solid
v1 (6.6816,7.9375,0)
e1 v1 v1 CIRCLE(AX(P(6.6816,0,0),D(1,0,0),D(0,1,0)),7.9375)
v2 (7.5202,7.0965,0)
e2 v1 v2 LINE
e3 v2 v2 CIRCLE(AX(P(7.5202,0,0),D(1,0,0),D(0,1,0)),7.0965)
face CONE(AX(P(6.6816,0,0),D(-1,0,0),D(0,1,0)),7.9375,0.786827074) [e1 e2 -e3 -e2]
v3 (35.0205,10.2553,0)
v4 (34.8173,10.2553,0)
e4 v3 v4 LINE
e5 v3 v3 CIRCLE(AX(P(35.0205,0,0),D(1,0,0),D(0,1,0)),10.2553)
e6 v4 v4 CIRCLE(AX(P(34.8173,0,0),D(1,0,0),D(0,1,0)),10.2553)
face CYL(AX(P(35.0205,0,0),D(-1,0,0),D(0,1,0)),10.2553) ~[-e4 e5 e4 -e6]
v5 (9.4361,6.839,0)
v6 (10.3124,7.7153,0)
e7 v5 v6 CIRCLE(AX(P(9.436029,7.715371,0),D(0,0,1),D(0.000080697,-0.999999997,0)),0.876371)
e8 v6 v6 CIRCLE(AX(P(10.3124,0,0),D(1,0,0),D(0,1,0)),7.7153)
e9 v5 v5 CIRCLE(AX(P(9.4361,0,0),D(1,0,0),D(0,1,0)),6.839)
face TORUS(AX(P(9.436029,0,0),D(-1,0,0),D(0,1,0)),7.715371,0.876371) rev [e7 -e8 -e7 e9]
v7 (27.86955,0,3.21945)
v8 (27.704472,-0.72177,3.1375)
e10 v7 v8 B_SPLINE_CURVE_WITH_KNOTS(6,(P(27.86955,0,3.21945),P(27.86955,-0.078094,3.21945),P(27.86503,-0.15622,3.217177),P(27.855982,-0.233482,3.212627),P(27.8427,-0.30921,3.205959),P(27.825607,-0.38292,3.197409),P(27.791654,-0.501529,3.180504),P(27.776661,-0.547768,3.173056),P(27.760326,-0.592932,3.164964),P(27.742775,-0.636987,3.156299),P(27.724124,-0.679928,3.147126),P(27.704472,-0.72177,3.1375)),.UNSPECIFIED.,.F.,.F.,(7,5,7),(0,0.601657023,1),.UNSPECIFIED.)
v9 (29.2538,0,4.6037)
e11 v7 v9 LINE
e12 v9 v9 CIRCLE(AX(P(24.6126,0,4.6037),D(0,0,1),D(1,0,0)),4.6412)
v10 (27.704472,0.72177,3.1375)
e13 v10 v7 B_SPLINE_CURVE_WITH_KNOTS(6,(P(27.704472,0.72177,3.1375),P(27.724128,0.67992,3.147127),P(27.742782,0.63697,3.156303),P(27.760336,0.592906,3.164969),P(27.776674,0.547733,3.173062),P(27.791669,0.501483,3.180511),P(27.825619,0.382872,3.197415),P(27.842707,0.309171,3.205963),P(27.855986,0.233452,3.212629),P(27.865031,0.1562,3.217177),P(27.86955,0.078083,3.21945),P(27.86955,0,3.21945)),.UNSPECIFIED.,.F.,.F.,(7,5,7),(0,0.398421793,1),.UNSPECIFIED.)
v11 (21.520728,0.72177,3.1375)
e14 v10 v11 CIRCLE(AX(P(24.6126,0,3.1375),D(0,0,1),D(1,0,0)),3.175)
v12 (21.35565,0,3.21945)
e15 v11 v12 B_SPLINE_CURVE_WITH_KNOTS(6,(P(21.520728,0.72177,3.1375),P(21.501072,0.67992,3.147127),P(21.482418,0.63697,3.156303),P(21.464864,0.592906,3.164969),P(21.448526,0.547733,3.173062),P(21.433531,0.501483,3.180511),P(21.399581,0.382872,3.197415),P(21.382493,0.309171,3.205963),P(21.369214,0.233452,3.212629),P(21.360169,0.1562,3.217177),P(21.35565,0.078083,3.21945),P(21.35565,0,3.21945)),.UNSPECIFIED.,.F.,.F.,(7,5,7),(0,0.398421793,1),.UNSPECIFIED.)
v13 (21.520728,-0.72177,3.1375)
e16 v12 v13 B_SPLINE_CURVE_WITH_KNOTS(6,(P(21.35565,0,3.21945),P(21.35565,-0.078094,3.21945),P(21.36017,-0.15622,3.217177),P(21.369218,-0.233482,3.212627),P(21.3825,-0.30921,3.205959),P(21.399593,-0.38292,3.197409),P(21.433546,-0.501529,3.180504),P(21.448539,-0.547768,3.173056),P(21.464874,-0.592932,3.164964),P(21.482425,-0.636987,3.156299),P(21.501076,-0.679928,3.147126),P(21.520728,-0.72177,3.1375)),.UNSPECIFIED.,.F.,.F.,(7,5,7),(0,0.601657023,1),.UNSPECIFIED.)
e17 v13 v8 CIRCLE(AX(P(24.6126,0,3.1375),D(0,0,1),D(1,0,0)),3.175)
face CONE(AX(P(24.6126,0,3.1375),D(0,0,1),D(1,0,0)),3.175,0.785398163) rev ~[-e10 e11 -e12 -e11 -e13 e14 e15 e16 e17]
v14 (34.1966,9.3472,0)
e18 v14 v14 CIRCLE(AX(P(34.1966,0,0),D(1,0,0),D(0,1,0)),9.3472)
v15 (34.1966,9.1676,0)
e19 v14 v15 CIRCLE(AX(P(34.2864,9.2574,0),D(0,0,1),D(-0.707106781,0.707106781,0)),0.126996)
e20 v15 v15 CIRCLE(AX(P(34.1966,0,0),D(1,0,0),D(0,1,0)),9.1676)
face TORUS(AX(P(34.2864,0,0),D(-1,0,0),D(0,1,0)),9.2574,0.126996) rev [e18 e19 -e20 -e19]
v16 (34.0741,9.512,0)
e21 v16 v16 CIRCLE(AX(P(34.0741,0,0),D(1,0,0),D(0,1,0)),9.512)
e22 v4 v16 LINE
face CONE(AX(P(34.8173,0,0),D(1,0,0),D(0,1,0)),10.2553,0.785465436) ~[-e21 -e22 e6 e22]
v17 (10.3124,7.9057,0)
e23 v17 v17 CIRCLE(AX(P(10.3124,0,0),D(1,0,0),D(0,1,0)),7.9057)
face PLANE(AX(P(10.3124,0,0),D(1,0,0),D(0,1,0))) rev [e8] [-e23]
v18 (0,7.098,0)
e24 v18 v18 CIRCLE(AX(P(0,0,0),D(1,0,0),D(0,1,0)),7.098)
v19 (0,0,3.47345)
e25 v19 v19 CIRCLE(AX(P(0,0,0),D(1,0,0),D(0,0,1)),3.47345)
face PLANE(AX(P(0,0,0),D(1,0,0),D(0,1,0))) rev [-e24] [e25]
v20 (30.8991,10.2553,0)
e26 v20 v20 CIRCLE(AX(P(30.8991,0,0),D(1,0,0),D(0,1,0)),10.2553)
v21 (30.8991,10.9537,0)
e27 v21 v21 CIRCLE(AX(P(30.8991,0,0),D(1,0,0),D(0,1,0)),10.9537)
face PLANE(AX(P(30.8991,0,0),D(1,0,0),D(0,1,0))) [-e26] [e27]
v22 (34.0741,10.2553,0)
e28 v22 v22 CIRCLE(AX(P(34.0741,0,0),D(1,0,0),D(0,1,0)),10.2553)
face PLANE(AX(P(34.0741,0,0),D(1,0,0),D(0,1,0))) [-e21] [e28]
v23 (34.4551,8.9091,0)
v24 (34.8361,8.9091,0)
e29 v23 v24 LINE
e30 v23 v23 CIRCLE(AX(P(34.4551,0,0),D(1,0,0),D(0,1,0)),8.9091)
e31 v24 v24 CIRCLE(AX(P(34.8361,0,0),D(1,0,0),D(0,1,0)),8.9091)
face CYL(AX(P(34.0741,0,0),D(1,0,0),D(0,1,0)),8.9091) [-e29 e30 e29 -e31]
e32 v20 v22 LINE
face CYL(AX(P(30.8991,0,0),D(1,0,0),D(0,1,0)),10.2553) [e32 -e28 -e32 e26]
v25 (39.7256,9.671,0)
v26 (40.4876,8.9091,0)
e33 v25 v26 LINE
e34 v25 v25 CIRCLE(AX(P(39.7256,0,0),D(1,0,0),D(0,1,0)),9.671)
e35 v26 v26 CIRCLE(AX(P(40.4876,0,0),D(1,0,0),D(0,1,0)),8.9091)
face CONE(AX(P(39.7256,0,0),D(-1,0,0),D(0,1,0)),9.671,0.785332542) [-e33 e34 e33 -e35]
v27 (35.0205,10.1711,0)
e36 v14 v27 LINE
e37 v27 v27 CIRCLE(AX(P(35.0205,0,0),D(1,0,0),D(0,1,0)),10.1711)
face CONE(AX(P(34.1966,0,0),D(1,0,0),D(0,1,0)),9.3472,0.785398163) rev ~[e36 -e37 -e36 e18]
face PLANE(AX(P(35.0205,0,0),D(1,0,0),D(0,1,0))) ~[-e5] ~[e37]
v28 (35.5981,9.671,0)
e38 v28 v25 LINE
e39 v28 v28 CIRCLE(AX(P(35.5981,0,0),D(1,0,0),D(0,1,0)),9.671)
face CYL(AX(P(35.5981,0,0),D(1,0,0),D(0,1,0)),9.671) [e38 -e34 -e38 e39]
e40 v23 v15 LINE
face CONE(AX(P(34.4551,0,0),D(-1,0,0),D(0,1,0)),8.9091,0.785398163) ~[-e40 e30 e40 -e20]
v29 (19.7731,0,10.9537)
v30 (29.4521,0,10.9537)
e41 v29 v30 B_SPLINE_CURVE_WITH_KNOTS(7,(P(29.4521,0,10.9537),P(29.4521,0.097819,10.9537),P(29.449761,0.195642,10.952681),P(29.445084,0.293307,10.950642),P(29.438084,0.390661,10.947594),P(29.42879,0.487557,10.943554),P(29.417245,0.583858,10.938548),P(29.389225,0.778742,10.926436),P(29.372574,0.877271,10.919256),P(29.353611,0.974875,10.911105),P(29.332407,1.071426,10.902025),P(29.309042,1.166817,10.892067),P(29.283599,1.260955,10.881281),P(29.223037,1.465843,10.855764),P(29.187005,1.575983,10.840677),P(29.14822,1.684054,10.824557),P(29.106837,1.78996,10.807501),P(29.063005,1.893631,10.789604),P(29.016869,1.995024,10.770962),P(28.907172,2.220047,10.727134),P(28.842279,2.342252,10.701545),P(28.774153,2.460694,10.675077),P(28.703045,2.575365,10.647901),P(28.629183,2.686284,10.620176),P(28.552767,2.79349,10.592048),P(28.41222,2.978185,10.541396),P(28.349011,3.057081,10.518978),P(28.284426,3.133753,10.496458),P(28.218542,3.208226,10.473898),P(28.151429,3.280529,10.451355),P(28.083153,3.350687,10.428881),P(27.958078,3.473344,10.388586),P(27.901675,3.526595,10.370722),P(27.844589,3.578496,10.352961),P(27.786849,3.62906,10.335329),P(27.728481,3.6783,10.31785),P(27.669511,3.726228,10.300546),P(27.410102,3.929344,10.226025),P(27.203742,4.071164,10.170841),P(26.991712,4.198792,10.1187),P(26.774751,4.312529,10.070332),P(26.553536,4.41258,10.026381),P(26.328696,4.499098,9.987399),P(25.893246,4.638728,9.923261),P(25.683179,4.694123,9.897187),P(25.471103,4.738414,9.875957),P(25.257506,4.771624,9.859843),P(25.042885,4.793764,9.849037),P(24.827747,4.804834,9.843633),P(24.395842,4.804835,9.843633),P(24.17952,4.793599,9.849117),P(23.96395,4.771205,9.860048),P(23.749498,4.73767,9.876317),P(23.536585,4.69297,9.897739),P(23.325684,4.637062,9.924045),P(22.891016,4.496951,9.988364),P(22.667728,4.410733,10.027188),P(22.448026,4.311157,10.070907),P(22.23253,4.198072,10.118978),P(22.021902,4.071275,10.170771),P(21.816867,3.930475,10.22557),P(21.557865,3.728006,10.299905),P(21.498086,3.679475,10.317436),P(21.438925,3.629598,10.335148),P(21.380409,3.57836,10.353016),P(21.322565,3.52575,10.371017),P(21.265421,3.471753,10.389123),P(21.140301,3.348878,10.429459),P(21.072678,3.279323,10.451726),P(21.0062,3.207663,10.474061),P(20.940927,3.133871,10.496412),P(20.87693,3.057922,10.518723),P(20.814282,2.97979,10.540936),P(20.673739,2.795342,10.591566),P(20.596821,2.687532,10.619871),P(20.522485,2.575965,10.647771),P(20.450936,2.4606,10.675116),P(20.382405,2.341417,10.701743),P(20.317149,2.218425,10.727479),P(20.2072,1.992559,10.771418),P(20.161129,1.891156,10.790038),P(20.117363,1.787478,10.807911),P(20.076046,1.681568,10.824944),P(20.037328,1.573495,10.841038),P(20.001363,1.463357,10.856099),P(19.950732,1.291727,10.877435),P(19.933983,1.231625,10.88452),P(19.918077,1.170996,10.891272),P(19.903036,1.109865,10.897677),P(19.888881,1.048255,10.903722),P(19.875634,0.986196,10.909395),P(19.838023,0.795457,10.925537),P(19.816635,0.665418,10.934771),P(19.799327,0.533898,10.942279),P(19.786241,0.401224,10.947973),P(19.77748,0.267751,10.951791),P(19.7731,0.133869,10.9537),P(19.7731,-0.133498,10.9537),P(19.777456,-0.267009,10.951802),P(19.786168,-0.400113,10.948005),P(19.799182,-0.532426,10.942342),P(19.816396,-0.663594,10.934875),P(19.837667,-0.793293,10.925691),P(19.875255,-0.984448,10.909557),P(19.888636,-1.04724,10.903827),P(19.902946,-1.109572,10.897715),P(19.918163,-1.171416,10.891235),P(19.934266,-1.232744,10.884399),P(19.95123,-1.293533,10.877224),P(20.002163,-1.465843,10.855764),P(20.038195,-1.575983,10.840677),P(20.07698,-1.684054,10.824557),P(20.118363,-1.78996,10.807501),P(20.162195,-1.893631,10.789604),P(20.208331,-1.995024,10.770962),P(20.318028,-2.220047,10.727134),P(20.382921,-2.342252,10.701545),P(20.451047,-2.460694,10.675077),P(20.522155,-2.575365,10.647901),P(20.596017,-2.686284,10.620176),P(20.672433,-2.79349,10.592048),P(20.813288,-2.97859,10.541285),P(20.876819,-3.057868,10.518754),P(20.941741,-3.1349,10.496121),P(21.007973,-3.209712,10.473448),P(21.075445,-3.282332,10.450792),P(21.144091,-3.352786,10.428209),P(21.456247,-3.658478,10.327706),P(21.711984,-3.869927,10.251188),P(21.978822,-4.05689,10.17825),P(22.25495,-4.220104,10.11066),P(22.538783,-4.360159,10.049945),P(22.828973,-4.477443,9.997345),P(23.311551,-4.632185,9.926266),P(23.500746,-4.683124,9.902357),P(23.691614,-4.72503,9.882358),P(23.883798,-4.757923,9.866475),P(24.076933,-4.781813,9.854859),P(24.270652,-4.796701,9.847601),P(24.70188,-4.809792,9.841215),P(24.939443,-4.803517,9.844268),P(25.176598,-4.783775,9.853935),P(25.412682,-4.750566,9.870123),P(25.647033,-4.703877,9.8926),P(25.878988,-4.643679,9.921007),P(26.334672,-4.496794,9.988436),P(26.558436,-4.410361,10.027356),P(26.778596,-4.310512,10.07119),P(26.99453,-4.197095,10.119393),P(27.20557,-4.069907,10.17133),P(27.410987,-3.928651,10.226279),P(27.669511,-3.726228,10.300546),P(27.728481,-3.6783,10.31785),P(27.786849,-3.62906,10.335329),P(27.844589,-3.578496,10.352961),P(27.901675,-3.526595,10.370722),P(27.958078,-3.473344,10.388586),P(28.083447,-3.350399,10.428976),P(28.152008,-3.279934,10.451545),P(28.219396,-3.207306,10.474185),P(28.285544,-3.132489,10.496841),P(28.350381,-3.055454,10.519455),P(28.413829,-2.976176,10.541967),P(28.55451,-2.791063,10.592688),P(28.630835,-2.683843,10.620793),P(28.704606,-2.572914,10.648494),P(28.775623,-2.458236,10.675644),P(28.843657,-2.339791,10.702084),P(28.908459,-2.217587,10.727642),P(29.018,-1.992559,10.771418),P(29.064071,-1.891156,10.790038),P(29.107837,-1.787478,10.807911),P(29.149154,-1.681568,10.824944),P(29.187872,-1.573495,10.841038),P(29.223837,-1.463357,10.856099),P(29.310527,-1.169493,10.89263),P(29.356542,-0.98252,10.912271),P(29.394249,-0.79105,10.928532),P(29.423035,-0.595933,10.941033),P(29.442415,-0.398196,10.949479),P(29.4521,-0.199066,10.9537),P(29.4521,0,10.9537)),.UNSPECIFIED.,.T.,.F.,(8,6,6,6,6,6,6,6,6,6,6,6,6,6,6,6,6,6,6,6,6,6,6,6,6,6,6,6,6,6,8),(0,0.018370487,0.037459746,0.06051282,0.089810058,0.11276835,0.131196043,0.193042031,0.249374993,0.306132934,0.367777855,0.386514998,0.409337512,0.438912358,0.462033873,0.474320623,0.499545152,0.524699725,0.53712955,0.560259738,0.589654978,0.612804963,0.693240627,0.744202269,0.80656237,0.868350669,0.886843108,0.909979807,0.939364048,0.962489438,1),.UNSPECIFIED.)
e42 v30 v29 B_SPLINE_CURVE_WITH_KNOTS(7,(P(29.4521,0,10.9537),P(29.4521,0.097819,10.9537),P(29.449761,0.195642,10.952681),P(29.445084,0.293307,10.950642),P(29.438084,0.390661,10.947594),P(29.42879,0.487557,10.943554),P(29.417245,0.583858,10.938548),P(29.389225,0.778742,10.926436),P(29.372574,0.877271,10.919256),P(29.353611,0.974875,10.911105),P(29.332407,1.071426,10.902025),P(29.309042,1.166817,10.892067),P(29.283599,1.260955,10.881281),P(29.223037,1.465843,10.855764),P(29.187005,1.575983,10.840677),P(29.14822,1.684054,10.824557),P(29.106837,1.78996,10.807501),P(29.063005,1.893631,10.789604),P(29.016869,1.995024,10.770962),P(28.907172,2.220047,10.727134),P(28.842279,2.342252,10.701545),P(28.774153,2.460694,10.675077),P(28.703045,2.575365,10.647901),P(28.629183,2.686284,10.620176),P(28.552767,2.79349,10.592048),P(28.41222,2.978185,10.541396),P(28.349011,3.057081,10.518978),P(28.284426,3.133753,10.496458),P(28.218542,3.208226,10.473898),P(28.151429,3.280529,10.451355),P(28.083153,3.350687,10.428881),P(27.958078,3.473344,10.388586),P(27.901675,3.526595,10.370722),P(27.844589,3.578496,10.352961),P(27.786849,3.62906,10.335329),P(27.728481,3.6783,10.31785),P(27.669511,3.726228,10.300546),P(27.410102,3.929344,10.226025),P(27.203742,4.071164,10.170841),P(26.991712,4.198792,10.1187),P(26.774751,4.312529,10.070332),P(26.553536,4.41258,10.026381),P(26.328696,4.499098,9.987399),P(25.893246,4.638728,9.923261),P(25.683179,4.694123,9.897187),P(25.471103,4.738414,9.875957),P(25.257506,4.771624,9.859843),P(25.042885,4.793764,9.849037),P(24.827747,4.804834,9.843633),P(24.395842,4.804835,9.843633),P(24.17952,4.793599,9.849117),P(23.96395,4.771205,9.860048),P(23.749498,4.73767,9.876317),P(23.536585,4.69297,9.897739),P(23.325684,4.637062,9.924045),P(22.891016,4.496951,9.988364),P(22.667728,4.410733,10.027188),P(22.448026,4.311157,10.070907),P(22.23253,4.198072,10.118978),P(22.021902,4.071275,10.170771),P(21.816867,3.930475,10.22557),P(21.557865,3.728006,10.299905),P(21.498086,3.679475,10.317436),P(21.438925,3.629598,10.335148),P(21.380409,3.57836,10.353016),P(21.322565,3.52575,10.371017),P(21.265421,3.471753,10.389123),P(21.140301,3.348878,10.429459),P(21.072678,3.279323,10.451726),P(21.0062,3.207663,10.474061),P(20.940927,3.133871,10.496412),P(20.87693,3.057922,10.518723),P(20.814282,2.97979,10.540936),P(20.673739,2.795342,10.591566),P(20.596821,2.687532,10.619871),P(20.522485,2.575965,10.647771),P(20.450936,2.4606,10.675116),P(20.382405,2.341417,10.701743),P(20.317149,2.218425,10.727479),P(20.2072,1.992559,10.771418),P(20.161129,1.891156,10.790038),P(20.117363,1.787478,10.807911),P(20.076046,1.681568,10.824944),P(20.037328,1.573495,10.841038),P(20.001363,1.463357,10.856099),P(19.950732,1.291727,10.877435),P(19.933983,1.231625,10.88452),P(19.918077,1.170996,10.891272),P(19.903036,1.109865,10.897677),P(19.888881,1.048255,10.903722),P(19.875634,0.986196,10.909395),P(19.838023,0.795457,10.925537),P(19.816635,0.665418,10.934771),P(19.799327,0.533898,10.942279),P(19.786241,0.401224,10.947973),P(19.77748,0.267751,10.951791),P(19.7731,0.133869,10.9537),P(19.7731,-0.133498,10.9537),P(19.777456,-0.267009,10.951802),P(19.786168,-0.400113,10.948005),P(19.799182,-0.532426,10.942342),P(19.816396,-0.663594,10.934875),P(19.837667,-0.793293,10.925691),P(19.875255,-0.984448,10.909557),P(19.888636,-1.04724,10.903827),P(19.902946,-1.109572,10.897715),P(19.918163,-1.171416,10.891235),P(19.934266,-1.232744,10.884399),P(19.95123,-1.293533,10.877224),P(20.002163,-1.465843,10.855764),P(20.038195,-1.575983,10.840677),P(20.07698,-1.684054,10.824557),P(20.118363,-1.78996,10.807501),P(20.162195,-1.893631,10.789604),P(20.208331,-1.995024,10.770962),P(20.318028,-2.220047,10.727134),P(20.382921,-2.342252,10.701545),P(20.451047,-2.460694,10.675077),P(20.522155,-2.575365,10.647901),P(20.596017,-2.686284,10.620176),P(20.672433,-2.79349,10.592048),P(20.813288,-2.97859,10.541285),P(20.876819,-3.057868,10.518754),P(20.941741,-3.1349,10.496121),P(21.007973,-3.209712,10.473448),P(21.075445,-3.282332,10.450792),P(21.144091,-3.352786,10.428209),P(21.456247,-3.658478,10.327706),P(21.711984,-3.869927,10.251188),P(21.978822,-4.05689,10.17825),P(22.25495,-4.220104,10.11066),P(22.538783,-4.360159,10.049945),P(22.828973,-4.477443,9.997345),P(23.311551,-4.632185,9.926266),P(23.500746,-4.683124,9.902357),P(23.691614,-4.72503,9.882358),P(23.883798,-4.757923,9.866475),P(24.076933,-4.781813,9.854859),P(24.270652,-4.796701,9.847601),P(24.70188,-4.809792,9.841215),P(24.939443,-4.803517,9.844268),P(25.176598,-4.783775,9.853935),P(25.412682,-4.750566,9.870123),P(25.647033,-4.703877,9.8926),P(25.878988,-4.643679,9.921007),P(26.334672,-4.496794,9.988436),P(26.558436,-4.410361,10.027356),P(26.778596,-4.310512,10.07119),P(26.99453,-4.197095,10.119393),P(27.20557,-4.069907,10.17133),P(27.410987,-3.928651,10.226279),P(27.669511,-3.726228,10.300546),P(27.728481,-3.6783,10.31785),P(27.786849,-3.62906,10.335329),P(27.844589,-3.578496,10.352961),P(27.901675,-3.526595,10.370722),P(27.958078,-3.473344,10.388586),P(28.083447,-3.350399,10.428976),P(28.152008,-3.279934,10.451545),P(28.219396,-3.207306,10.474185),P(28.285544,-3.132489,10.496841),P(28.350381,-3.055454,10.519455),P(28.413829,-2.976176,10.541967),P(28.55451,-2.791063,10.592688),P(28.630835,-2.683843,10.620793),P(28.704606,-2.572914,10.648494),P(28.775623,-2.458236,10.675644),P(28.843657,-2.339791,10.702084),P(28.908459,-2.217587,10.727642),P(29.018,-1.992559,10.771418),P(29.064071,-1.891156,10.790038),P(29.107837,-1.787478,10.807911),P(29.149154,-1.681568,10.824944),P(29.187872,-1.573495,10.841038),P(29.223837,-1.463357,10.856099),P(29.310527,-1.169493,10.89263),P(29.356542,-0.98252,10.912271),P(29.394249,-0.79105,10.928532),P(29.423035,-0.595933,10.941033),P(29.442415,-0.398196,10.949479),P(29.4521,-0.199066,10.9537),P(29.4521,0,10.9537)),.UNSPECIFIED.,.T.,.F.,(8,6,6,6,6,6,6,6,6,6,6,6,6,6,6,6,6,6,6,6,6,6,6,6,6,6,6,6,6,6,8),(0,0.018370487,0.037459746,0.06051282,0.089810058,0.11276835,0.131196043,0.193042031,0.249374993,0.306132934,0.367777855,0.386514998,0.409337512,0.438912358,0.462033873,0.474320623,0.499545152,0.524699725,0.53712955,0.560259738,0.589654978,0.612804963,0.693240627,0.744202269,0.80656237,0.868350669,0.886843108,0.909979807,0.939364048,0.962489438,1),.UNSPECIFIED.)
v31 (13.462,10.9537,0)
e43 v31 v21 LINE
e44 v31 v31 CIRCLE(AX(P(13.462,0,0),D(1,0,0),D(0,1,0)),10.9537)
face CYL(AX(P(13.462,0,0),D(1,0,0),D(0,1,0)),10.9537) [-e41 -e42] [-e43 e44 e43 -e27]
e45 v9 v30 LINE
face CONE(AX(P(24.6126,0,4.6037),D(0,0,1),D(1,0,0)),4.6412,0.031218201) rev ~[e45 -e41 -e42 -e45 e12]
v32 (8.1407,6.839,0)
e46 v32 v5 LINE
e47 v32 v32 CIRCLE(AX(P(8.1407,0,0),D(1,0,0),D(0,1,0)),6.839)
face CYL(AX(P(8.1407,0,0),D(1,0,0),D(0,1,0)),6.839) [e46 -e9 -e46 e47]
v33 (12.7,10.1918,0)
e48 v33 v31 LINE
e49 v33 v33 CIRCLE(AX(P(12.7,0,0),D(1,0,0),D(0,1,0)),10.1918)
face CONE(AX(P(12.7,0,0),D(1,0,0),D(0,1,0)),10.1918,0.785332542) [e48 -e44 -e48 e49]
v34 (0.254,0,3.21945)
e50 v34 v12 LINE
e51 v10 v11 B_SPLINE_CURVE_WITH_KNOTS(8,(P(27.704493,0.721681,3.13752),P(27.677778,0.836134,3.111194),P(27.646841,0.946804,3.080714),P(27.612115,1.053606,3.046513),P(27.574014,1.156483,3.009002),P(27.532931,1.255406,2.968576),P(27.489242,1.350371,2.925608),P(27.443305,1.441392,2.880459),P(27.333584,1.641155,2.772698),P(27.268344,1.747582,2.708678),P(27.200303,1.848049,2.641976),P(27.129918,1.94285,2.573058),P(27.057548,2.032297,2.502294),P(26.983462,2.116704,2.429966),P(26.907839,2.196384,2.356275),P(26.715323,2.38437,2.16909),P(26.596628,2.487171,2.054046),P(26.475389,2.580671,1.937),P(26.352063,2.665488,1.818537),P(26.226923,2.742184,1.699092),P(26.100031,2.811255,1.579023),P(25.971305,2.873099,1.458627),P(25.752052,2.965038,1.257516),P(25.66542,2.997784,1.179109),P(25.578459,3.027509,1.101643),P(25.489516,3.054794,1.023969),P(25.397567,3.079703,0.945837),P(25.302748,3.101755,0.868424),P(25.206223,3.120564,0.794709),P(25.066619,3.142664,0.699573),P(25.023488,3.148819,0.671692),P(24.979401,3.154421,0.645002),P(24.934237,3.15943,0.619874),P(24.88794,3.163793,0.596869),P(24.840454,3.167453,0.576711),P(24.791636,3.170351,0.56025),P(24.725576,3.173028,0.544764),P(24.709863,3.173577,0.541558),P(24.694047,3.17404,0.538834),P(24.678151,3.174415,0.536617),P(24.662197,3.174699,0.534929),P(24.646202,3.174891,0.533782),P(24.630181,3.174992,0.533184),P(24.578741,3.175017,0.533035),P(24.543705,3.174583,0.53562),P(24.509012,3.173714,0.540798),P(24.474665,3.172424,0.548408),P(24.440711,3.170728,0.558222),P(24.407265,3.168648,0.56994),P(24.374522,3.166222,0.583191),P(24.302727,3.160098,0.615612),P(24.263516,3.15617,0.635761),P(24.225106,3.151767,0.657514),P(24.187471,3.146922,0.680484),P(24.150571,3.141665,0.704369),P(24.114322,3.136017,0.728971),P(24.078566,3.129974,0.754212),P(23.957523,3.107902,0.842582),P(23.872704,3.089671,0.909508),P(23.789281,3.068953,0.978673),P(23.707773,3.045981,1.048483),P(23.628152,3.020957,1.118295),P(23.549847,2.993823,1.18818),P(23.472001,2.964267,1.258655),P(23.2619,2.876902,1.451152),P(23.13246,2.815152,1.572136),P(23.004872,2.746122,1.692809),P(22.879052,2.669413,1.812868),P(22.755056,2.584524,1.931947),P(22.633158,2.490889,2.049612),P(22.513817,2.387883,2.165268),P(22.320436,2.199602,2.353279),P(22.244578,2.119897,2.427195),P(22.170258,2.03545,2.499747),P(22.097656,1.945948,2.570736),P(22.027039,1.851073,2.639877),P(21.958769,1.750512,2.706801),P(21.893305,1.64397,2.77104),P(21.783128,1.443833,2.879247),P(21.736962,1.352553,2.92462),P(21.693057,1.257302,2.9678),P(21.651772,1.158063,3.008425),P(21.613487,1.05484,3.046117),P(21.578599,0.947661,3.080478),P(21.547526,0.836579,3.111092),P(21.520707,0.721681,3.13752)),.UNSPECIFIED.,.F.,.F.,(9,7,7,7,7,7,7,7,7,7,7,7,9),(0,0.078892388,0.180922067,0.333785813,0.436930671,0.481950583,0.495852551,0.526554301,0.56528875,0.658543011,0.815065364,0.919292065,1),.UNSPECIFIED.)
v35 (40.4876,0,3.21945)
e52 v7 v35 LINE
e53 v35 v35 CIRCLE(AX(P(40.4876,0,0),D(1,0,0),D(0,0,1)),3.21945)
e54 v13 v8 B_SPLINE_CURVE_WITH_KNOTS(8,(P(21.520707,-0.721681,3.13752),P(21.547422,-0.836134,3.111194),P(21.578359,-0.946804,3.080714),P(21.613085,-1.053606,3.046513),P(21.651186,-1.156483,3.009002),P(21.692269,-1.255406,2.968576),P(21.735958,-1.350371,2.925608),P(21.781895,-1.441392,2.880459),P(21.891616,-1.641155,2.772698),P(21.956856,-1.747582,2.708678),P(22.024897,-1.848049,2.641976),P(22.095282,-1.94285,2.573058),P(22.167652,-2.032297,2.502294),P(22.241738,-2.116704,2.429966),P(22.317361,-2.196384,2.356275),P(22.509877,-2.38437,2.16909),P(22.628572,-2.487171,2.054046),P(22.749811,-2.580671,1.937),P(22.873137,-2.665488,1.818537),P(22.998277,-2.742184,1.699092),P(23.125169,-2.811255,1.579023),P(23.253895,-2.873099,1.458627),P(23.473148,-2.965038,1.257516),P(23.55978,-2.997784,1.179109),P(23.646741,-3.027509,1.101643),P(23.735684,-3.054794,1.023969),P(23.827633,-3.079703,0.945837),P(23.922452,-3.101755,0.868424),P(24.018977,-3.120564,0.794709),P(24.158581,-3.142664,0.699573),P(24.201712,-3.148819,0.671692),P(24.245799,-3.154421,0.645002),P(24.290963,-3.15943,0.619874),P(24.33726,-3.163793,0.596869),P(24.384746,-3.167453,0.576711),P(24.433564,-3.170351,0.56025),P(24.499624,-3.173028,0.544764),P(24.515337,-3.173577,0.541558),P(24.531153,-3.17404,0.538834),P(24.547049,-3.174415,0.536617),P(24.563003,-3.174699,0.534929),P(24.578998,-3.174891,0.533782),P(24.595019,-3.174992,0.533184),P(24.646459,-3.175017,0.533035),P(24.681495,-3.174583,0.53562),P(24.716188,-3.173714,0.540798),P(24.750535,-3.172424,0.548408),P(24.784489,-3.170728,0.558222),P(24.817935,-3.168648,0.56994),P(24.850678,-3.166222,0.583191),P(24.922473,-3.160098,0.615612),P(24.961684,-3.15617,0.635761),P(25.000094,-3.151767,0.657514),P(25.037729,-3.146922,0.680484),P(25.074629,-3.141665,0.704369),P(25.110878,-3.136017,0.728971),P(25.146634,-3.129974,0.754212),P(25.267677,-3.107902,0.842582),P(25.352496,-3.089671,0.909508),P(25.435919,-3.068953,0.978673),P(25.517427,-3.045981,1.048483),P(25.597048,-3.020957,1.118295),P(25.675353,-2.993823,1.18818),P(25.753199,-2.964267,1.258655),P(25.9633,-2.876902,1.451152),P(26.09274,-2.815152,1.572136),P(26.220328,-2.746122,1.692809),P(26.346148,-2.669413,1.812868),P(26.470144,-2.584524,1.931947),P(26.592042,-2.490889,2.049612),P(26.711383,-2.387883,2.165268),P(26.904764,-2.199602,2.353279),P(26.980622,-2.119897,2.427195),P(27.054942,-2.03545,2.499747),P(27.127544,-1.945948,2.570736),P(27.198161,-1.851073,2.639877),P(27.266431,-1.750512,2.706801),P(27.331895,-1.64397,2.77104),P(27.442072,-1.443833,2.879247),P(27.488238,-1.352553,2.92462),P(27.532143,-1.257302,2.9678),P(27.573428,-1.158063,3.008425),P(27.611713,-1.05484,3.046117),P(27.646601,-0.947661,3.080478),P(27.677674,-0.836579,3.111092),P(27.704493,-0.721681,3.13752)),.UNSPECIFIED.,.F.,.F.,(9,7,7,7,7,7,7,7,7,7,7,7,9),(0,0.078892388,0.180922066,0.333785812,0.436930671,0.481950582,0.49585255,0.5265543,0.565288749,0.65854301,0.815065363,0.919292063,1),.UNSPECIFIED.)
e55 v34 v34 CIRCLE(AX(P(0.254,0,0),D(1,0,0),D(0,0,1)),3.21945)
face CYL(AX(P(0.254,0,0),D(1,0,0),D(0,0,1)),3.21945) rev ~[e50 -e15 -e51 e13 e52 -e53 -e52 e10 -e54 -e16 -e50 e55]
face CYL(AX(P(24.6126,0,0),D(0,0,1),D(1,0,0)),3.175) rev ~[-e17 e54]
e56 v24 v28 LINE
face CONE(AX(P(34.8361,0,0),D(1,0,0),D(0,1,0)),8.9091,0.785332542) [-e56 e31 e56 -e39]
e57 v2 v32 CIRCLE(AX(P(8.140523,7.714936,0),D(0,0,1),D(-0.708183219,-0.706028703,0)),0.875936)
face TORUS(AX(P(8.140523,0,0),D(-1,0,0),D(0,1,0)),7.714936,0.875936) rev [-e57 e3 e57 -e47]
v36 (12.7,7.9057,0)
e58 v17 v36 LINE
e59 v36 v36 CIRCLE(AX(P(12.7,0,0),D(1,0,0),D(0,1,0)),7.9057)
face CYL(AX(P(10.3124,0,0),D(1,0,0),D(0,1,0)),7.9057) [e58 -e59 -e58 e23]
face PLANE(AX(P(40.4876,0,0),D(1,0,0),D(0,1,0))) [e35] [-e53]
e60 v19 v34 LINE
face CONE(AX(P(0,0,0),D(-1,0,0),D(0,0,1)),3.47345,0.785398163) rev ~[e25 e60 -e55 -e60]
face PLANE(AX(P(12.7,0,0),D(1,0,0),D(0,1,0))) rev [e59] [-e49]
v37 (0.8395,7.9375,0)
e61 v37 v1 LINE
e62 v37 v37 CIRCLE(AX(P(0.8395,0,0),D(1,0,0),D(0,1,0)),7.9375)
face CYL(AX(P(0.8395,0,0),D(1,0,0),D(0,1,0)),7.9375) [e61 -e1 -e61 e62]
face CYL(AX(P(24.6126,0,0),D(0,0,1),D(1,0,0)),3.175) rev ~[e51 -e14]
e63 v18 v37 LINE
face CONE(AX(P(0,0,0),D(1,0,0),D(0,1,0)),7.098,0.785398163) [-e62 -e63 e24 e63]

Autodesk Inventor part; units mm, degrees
sketch "Sketch_2" plane through (0, 0, 0) normal (0, 0, 1) x (1, 0, 0)
  line L0 (12.7, 0) -> (0, 0)
  line L1 (0, 0) -> (0, 7.098)
  line L2 (0, 7.098) -> (0.8395, 7.9375)
  line L3 (0.8395, 7.9375) -> (6.6816, 7.9375)
  line L4 (6.6816, 7.9375) -> (7.5202, 7.0965)
  arc A0 (7.5202, 7.0965) -> (8.1407, 6.839) centre (8.1407, 7.7152) ccw
  line L5 (8.1407, 6.839) -> (9.4361, 6.839)
  arc A1 (9.4361, 6.839) -> (10.3124, 7.7153) centre (9.4361, 7.7152) ccw
  line L6 (10.3124, 7.7153) -> (10.3124, 7.9057)
  line L7 (10.3124, 7.9057) -> (12.7, 7.9057)
  line L8 (12.7, 7.9057) -> (12.7, 0)
  line L9 (12.7, 0) -> (0, 0)
revolve "Revolution1" add sketch "Sketch_2" angle 360 about axis through (12.7, 0, 0) along (1, 0, 0)
thread "Thread1" size "5/8-18 UNF" class "2A" standard "ANSI Unified Screw Threads" full length
sketch "Sketch_3" plane through (0, 0, 0) normal (0, 0, 1) x (1, 0, 0)
  line L0 (40.4876, 0) -> (12.7, 0)
  line L1 (12.7, 0) -> (12.7, 10.1918)
  line L2 (12.7, 10.1918) -> (13.462, 10.9537)
  line L3 (13.462, 10.9537) -> (34.0741, 10.9537)
  line L4 (34.0741, 10.9537) -> (34.0741, 8.9091)
  line L5 (34.0741, 8.9091) -> (34.8361, 8.9091)
  line L6 (34.8361, 8.9091) -> (35.5981, 9.671)
  line L7 (35.5981, 9.671) -> (39.7256, 9.671)
  line L8 (39.7256, 9.671) -> (40.4876, 8.9091)
  line L9 (40.4876, 8.9091) -> (40.4876, 0)
  line L10 (40.4876, 0) -> (12.7, 0)
revolve "Revolution2" add sketch "Sketch_3" angle 360 about axis through (40.4876, 0, 0) along (1, 0, 0)
sketch "Sketch3" plane through (0, 0, 0) normal (-1, 0, 0) x (0, 0, 1)
  point P0 (0, 0)
hole "Hole1" at (0, 0, 0) direction (1, 0, 0) diameter 6.4389 depth 40.4876 countersink diameter 6.9469 countersink angle 90
sketch "Sketch_10" plane through (0, 0, 0) normal (0, 0, 1) x (1, 0, 0)
  line L0 (34.0741, 0) -> (30.8991, 0)
  line L1 (30.8991, 15.3353) -> (30.8991, 10.2553)
  line L2 (30.8991, 10.2553) -> (34.0741, 10.2553)
  line L3 (34.0741, 10.2553) -> (34.0741, 15.3353)
  line L4 (34.0741, 15.3353) -> (30.8991, 15.3353)
revolve "Revolution3" cut sketch "Sketch_10" angle 360 about axis through (34.0741, 0, 0) along (1, 0, 0)
sketch "Sketch_40" plane through (0, 0, 0) normal (0, 1, 0) x (-1, 0, 0)
  line L0 (-24.6126, 10.9537) -> (-24.6126, 0)
  line L1 (-24.6126, 0) -> (-27.7876, 0)
  line L2 (-27.7876, 0) -> (-27.7876, 3.1375)
  line L3 (-27.7876, 3.1375) -> (-29.2538, 4.6037)
  line L4 (-29.2538, 4.6037) -> (-29.4521, 10.9537)
  line L5 (-29.4521, 10.9537) -> (-24.6126, 10.9537)
  line L6 (-24.6126, 10.9537) -> (-24.6126, 0)
revolve "Revolution4" cut sketch "Sketch_40" angle 360 about axis through (24.6126, 0, 10.9537) along (0, 0, 1)
thread "Thread2" size "1/8" designation "1/8 - 27 NPT" standard "NPT" length 3.8119
sketch "Sketch_47" plane through (0, 0, 0) normal (0, 0, 1) x (1, 0, 0)
  line L0 (34.8361, 0) -> (34.0741, 0)
  line L1 (34.0741, 9.512) -> (34.0741, 8.655)
  line L2 (34.0741, 8.655) -> (34.8361, 8.655)
  line L3 (34.8361, 8.655) -> (34.8361, 8.9091)
  line L4 (34.8361, 8.9091) -> (34.4551, 8.9091)
  line L5 (34.4551, 8.9091) -> (34.1966, 9.1676)
  arc A0 (34.1966, 9.3472) -> (34.1966, 9.1676) centre (34.2864, 9.2574) ccw
  line L6 (34.1966, 9.3472) -> (35.0205, 10.1711)
  line L7 (35.0205, 10.1711) -> (35.0205, 10.2553)
  line L8 (35.0205, 10.2553) -> (34.8173, 10.2553)
  line L9 (34.8173, 10.2553) -> (34.0741, 9.512)
revolve "Revolution5" add sketch "Sketch_47" angle 360 about axis through (34.8361, 0, 0) along (1, 0, 0)
ref_plane "dp1_XY" through (12.7, 7.9057, 0) normal (0, 0, 1) x (1, 0, 0)
ref_plane "dp1_YZ" through (12.7, 7.9057, 0) normal (1, 0, 0) x (0, 1, 0)
ref_plane "dp1_ZX" through (12.7, 7.9057, 0) normal (0, 1, 0) x (0, 0, 1)
ref_plane "dp2_XY" through (12.7, -7.9057, 0) normal (0, 0, 1) x (1, 0, 0)
ref_plane "dp2_YZ" through (12.7, -7.9057, 0) normal (1, 0, 0) x (0, 1, 0)
ref_plane "dp2_ZX" through (12.7, -7.9057, 0) normal (0, 1, 0) x (0, 0, 1)
ref_plane "hh_XY" through (0, 7.9375, 0) normal (0, 0, 1) x (1, 0, 0)
ref_plane "hh_YZ" through (0, 7.9375, 0) normal (1, 0, 0) x (0, 1, 0)
ref_plane "hh_ZX" through (0, 7.9375, 0) normal (0, 1, 0) x (0, 0, 1)
ref_plane "port_XY" through (24.6126, 0, 0) normal (0, 0, 1) x (1, 0, 0)
ref_plane "port_YZ" through (24.6126, 0, 0) normal (1, 0, 0) x (0, 1, 0)
ref_plane "port_ZX" through (24.6126, 0, 0) normal (0, 1, 0) x (0, 0, 1)
ref_plane "rod_guide_XY" through (0, 0, 0) normal (1, 0, 0) x (0, 0, -1)
ref_plane "rod_guide_YZ" through (0, 0, 0) normal (0, 0, -1) x (0, 1, 0)
ref_plane "rod_guide_ZX" through (0, 0, 0) normal (0, 1, 0) x (1, 0, 0)
ref_plane "s1_XY" through (10.3124, 0, 0) normal (0, 0, 1) x (1, 0, 0)
ref_plane "s1_YZ" through (10.3124, 0, 0) normal (1, 0, 0) x (0, 1, 0)
ref_plane "s1_ZX" through (10.3124, 0, 0) normal (0, 1, 0) x (0, 0, 1)
ref_plane "s2_XY" through (12.7, 0, 0) normal (0, 0, 1) x (1, 0, 0)
ref_plane "s2_YZ" through (12.7, 0, 0) normal (1, 0, 0) x (0, 1, 0)
ref_plane "s2_ZX" through (12.7, 0, 0) normal (0, 1, 0) x (0, 0, 1)
ref_plane "t1_XY" through (12.7, 0, 0) normal (1, 0, 0) x (0, 0, -1)
ref_plane "t1_YZ" through (12.7, 0, 0) normal (0, 0, -1) x (0, 1, 0)
ref_plane "t1_ZX" through (12.7, 0, 0) normal (0, 1, 0) x (1, 0, 0)
ref_plane "t111_XY" through (12.7, 0, 0) normal (1, 0, 0) x (0, 0, -1)
ref_plane "t111_YZ" through (12.7, 0, 0) normal (0, 0, -1) x (0, 1, 0)
ref_plane "t111_ZX" through (12.7, 0, 0) normal (0, 1, 0) x (1, 0, 0)
ref_plane "to_foot_bracket_XY" through (12.7, 0, 0) normal (1, 0, 0) x (0, 0, -1)
ref_plane "to_foot_bracket_YZ" through (12.7, 0, 0) normal (0, 0, -1) x (0, 1, 0)
ref_plane "to_foot_bracket_ZX" through (12.7, 0, 0) normal (0, 1, 0) x (1, 0, 0)
ref_plane "to_nut_XY" through (10.3124, 0, 0) normal (1, 0, 0) x (0, 0, -1)
ref_plane "to_nut_YZ" through (10.3124, 0, 0) normal (0, 0, -1) x (0, 1, 0)
ref_plane "to_nut_ZX" through (10.3124, 0, 0) normal (0, 1, 0) x (1, 0, 0)
ref_plane "to_rod_XY" through (0, 0, 0) normal (1, 0, 0) x (0, 0, -1)
ref_plane "to_rod_YZ" through (0, 0, 0) normal (0, 0, -1) x (0, 1, 0)
ref_plane "to_rod_ZX" through (0, 0, 0) normal (0, 1, 0) x (1, 0, 0)
ref_plane "to_screw_XY" through (24.6126, 2.032, -6.0452) normal (0, 1, 0) x (1, 0, 0)
ref_plane "to_screw_YZ" through (24.6126, 2.032, -6.0452) normal (1, 0, 0) x (0, 0, -1)
ref_plane "to_screw_ZX" through (24.6126, 2.032, -6.0452) normal (0, 0, -1) x (0, 1, 0)
ref_plane "to_trunnion_brackets_XY" through (11.1252, 0, 0) normal (0, 1, 0) x (1, 0, 0)
ref_plane "to_trunnion_brackets_YZ" through (11.1252, 0, 0) normal (1, 0, 0) x (0, 0, -1)
ref_plane "to_trunnion_brackets_ZX" through (11.1252, 0, 0) normal (0, 0, -1) x (0, 1, 0)
ref_plane "to_trunnion_brackets1_XY" through (11.1252, 12.7, 0) normal (0, 1, 0) x (1, 0, 0)
ref_plane "to_trunnion_brackets1_YZ" through (11.1252, 12.7, 0) normal (1, 0, 0) x (0, 0, -1)
ref_plane "to_trunnion_brackets1_ZX" through (11.1252, 12.7, 0) normal (0, 0, -1) x (0, 1, 0)
ref_plane "to_trunnion_brackets2_XY" through (11.1252, -12.7, 0) normal (0, 1, 0) x (1, 0, 0)
ref_plane "to_trunnion_brackets2_YZ" through (11.1252, -12.7, 0) normal (1, 0, 0) x (0, 0, -1)
ref_plane "to_trunnion_brackets2_ZX" through (11.1252, -12.7, 0) normal (0, 0, -1) x (0, 1, 0)
ref_plane "to_tube_XY" through (34.8361, 0, 0) normal (1, 0, 0) x (0, 0, -1)
ref_plane "to_tube_YZ" through (34.8361, 0, 0) normal (0, 0, -1) x (0, 1, 0)
ref_plane "to_tube_ZX" through (34.8361, 0, 0) normal (0, 1, 0) x (1, 0, 0)
properties part number "04R000-0_rod_guide"
